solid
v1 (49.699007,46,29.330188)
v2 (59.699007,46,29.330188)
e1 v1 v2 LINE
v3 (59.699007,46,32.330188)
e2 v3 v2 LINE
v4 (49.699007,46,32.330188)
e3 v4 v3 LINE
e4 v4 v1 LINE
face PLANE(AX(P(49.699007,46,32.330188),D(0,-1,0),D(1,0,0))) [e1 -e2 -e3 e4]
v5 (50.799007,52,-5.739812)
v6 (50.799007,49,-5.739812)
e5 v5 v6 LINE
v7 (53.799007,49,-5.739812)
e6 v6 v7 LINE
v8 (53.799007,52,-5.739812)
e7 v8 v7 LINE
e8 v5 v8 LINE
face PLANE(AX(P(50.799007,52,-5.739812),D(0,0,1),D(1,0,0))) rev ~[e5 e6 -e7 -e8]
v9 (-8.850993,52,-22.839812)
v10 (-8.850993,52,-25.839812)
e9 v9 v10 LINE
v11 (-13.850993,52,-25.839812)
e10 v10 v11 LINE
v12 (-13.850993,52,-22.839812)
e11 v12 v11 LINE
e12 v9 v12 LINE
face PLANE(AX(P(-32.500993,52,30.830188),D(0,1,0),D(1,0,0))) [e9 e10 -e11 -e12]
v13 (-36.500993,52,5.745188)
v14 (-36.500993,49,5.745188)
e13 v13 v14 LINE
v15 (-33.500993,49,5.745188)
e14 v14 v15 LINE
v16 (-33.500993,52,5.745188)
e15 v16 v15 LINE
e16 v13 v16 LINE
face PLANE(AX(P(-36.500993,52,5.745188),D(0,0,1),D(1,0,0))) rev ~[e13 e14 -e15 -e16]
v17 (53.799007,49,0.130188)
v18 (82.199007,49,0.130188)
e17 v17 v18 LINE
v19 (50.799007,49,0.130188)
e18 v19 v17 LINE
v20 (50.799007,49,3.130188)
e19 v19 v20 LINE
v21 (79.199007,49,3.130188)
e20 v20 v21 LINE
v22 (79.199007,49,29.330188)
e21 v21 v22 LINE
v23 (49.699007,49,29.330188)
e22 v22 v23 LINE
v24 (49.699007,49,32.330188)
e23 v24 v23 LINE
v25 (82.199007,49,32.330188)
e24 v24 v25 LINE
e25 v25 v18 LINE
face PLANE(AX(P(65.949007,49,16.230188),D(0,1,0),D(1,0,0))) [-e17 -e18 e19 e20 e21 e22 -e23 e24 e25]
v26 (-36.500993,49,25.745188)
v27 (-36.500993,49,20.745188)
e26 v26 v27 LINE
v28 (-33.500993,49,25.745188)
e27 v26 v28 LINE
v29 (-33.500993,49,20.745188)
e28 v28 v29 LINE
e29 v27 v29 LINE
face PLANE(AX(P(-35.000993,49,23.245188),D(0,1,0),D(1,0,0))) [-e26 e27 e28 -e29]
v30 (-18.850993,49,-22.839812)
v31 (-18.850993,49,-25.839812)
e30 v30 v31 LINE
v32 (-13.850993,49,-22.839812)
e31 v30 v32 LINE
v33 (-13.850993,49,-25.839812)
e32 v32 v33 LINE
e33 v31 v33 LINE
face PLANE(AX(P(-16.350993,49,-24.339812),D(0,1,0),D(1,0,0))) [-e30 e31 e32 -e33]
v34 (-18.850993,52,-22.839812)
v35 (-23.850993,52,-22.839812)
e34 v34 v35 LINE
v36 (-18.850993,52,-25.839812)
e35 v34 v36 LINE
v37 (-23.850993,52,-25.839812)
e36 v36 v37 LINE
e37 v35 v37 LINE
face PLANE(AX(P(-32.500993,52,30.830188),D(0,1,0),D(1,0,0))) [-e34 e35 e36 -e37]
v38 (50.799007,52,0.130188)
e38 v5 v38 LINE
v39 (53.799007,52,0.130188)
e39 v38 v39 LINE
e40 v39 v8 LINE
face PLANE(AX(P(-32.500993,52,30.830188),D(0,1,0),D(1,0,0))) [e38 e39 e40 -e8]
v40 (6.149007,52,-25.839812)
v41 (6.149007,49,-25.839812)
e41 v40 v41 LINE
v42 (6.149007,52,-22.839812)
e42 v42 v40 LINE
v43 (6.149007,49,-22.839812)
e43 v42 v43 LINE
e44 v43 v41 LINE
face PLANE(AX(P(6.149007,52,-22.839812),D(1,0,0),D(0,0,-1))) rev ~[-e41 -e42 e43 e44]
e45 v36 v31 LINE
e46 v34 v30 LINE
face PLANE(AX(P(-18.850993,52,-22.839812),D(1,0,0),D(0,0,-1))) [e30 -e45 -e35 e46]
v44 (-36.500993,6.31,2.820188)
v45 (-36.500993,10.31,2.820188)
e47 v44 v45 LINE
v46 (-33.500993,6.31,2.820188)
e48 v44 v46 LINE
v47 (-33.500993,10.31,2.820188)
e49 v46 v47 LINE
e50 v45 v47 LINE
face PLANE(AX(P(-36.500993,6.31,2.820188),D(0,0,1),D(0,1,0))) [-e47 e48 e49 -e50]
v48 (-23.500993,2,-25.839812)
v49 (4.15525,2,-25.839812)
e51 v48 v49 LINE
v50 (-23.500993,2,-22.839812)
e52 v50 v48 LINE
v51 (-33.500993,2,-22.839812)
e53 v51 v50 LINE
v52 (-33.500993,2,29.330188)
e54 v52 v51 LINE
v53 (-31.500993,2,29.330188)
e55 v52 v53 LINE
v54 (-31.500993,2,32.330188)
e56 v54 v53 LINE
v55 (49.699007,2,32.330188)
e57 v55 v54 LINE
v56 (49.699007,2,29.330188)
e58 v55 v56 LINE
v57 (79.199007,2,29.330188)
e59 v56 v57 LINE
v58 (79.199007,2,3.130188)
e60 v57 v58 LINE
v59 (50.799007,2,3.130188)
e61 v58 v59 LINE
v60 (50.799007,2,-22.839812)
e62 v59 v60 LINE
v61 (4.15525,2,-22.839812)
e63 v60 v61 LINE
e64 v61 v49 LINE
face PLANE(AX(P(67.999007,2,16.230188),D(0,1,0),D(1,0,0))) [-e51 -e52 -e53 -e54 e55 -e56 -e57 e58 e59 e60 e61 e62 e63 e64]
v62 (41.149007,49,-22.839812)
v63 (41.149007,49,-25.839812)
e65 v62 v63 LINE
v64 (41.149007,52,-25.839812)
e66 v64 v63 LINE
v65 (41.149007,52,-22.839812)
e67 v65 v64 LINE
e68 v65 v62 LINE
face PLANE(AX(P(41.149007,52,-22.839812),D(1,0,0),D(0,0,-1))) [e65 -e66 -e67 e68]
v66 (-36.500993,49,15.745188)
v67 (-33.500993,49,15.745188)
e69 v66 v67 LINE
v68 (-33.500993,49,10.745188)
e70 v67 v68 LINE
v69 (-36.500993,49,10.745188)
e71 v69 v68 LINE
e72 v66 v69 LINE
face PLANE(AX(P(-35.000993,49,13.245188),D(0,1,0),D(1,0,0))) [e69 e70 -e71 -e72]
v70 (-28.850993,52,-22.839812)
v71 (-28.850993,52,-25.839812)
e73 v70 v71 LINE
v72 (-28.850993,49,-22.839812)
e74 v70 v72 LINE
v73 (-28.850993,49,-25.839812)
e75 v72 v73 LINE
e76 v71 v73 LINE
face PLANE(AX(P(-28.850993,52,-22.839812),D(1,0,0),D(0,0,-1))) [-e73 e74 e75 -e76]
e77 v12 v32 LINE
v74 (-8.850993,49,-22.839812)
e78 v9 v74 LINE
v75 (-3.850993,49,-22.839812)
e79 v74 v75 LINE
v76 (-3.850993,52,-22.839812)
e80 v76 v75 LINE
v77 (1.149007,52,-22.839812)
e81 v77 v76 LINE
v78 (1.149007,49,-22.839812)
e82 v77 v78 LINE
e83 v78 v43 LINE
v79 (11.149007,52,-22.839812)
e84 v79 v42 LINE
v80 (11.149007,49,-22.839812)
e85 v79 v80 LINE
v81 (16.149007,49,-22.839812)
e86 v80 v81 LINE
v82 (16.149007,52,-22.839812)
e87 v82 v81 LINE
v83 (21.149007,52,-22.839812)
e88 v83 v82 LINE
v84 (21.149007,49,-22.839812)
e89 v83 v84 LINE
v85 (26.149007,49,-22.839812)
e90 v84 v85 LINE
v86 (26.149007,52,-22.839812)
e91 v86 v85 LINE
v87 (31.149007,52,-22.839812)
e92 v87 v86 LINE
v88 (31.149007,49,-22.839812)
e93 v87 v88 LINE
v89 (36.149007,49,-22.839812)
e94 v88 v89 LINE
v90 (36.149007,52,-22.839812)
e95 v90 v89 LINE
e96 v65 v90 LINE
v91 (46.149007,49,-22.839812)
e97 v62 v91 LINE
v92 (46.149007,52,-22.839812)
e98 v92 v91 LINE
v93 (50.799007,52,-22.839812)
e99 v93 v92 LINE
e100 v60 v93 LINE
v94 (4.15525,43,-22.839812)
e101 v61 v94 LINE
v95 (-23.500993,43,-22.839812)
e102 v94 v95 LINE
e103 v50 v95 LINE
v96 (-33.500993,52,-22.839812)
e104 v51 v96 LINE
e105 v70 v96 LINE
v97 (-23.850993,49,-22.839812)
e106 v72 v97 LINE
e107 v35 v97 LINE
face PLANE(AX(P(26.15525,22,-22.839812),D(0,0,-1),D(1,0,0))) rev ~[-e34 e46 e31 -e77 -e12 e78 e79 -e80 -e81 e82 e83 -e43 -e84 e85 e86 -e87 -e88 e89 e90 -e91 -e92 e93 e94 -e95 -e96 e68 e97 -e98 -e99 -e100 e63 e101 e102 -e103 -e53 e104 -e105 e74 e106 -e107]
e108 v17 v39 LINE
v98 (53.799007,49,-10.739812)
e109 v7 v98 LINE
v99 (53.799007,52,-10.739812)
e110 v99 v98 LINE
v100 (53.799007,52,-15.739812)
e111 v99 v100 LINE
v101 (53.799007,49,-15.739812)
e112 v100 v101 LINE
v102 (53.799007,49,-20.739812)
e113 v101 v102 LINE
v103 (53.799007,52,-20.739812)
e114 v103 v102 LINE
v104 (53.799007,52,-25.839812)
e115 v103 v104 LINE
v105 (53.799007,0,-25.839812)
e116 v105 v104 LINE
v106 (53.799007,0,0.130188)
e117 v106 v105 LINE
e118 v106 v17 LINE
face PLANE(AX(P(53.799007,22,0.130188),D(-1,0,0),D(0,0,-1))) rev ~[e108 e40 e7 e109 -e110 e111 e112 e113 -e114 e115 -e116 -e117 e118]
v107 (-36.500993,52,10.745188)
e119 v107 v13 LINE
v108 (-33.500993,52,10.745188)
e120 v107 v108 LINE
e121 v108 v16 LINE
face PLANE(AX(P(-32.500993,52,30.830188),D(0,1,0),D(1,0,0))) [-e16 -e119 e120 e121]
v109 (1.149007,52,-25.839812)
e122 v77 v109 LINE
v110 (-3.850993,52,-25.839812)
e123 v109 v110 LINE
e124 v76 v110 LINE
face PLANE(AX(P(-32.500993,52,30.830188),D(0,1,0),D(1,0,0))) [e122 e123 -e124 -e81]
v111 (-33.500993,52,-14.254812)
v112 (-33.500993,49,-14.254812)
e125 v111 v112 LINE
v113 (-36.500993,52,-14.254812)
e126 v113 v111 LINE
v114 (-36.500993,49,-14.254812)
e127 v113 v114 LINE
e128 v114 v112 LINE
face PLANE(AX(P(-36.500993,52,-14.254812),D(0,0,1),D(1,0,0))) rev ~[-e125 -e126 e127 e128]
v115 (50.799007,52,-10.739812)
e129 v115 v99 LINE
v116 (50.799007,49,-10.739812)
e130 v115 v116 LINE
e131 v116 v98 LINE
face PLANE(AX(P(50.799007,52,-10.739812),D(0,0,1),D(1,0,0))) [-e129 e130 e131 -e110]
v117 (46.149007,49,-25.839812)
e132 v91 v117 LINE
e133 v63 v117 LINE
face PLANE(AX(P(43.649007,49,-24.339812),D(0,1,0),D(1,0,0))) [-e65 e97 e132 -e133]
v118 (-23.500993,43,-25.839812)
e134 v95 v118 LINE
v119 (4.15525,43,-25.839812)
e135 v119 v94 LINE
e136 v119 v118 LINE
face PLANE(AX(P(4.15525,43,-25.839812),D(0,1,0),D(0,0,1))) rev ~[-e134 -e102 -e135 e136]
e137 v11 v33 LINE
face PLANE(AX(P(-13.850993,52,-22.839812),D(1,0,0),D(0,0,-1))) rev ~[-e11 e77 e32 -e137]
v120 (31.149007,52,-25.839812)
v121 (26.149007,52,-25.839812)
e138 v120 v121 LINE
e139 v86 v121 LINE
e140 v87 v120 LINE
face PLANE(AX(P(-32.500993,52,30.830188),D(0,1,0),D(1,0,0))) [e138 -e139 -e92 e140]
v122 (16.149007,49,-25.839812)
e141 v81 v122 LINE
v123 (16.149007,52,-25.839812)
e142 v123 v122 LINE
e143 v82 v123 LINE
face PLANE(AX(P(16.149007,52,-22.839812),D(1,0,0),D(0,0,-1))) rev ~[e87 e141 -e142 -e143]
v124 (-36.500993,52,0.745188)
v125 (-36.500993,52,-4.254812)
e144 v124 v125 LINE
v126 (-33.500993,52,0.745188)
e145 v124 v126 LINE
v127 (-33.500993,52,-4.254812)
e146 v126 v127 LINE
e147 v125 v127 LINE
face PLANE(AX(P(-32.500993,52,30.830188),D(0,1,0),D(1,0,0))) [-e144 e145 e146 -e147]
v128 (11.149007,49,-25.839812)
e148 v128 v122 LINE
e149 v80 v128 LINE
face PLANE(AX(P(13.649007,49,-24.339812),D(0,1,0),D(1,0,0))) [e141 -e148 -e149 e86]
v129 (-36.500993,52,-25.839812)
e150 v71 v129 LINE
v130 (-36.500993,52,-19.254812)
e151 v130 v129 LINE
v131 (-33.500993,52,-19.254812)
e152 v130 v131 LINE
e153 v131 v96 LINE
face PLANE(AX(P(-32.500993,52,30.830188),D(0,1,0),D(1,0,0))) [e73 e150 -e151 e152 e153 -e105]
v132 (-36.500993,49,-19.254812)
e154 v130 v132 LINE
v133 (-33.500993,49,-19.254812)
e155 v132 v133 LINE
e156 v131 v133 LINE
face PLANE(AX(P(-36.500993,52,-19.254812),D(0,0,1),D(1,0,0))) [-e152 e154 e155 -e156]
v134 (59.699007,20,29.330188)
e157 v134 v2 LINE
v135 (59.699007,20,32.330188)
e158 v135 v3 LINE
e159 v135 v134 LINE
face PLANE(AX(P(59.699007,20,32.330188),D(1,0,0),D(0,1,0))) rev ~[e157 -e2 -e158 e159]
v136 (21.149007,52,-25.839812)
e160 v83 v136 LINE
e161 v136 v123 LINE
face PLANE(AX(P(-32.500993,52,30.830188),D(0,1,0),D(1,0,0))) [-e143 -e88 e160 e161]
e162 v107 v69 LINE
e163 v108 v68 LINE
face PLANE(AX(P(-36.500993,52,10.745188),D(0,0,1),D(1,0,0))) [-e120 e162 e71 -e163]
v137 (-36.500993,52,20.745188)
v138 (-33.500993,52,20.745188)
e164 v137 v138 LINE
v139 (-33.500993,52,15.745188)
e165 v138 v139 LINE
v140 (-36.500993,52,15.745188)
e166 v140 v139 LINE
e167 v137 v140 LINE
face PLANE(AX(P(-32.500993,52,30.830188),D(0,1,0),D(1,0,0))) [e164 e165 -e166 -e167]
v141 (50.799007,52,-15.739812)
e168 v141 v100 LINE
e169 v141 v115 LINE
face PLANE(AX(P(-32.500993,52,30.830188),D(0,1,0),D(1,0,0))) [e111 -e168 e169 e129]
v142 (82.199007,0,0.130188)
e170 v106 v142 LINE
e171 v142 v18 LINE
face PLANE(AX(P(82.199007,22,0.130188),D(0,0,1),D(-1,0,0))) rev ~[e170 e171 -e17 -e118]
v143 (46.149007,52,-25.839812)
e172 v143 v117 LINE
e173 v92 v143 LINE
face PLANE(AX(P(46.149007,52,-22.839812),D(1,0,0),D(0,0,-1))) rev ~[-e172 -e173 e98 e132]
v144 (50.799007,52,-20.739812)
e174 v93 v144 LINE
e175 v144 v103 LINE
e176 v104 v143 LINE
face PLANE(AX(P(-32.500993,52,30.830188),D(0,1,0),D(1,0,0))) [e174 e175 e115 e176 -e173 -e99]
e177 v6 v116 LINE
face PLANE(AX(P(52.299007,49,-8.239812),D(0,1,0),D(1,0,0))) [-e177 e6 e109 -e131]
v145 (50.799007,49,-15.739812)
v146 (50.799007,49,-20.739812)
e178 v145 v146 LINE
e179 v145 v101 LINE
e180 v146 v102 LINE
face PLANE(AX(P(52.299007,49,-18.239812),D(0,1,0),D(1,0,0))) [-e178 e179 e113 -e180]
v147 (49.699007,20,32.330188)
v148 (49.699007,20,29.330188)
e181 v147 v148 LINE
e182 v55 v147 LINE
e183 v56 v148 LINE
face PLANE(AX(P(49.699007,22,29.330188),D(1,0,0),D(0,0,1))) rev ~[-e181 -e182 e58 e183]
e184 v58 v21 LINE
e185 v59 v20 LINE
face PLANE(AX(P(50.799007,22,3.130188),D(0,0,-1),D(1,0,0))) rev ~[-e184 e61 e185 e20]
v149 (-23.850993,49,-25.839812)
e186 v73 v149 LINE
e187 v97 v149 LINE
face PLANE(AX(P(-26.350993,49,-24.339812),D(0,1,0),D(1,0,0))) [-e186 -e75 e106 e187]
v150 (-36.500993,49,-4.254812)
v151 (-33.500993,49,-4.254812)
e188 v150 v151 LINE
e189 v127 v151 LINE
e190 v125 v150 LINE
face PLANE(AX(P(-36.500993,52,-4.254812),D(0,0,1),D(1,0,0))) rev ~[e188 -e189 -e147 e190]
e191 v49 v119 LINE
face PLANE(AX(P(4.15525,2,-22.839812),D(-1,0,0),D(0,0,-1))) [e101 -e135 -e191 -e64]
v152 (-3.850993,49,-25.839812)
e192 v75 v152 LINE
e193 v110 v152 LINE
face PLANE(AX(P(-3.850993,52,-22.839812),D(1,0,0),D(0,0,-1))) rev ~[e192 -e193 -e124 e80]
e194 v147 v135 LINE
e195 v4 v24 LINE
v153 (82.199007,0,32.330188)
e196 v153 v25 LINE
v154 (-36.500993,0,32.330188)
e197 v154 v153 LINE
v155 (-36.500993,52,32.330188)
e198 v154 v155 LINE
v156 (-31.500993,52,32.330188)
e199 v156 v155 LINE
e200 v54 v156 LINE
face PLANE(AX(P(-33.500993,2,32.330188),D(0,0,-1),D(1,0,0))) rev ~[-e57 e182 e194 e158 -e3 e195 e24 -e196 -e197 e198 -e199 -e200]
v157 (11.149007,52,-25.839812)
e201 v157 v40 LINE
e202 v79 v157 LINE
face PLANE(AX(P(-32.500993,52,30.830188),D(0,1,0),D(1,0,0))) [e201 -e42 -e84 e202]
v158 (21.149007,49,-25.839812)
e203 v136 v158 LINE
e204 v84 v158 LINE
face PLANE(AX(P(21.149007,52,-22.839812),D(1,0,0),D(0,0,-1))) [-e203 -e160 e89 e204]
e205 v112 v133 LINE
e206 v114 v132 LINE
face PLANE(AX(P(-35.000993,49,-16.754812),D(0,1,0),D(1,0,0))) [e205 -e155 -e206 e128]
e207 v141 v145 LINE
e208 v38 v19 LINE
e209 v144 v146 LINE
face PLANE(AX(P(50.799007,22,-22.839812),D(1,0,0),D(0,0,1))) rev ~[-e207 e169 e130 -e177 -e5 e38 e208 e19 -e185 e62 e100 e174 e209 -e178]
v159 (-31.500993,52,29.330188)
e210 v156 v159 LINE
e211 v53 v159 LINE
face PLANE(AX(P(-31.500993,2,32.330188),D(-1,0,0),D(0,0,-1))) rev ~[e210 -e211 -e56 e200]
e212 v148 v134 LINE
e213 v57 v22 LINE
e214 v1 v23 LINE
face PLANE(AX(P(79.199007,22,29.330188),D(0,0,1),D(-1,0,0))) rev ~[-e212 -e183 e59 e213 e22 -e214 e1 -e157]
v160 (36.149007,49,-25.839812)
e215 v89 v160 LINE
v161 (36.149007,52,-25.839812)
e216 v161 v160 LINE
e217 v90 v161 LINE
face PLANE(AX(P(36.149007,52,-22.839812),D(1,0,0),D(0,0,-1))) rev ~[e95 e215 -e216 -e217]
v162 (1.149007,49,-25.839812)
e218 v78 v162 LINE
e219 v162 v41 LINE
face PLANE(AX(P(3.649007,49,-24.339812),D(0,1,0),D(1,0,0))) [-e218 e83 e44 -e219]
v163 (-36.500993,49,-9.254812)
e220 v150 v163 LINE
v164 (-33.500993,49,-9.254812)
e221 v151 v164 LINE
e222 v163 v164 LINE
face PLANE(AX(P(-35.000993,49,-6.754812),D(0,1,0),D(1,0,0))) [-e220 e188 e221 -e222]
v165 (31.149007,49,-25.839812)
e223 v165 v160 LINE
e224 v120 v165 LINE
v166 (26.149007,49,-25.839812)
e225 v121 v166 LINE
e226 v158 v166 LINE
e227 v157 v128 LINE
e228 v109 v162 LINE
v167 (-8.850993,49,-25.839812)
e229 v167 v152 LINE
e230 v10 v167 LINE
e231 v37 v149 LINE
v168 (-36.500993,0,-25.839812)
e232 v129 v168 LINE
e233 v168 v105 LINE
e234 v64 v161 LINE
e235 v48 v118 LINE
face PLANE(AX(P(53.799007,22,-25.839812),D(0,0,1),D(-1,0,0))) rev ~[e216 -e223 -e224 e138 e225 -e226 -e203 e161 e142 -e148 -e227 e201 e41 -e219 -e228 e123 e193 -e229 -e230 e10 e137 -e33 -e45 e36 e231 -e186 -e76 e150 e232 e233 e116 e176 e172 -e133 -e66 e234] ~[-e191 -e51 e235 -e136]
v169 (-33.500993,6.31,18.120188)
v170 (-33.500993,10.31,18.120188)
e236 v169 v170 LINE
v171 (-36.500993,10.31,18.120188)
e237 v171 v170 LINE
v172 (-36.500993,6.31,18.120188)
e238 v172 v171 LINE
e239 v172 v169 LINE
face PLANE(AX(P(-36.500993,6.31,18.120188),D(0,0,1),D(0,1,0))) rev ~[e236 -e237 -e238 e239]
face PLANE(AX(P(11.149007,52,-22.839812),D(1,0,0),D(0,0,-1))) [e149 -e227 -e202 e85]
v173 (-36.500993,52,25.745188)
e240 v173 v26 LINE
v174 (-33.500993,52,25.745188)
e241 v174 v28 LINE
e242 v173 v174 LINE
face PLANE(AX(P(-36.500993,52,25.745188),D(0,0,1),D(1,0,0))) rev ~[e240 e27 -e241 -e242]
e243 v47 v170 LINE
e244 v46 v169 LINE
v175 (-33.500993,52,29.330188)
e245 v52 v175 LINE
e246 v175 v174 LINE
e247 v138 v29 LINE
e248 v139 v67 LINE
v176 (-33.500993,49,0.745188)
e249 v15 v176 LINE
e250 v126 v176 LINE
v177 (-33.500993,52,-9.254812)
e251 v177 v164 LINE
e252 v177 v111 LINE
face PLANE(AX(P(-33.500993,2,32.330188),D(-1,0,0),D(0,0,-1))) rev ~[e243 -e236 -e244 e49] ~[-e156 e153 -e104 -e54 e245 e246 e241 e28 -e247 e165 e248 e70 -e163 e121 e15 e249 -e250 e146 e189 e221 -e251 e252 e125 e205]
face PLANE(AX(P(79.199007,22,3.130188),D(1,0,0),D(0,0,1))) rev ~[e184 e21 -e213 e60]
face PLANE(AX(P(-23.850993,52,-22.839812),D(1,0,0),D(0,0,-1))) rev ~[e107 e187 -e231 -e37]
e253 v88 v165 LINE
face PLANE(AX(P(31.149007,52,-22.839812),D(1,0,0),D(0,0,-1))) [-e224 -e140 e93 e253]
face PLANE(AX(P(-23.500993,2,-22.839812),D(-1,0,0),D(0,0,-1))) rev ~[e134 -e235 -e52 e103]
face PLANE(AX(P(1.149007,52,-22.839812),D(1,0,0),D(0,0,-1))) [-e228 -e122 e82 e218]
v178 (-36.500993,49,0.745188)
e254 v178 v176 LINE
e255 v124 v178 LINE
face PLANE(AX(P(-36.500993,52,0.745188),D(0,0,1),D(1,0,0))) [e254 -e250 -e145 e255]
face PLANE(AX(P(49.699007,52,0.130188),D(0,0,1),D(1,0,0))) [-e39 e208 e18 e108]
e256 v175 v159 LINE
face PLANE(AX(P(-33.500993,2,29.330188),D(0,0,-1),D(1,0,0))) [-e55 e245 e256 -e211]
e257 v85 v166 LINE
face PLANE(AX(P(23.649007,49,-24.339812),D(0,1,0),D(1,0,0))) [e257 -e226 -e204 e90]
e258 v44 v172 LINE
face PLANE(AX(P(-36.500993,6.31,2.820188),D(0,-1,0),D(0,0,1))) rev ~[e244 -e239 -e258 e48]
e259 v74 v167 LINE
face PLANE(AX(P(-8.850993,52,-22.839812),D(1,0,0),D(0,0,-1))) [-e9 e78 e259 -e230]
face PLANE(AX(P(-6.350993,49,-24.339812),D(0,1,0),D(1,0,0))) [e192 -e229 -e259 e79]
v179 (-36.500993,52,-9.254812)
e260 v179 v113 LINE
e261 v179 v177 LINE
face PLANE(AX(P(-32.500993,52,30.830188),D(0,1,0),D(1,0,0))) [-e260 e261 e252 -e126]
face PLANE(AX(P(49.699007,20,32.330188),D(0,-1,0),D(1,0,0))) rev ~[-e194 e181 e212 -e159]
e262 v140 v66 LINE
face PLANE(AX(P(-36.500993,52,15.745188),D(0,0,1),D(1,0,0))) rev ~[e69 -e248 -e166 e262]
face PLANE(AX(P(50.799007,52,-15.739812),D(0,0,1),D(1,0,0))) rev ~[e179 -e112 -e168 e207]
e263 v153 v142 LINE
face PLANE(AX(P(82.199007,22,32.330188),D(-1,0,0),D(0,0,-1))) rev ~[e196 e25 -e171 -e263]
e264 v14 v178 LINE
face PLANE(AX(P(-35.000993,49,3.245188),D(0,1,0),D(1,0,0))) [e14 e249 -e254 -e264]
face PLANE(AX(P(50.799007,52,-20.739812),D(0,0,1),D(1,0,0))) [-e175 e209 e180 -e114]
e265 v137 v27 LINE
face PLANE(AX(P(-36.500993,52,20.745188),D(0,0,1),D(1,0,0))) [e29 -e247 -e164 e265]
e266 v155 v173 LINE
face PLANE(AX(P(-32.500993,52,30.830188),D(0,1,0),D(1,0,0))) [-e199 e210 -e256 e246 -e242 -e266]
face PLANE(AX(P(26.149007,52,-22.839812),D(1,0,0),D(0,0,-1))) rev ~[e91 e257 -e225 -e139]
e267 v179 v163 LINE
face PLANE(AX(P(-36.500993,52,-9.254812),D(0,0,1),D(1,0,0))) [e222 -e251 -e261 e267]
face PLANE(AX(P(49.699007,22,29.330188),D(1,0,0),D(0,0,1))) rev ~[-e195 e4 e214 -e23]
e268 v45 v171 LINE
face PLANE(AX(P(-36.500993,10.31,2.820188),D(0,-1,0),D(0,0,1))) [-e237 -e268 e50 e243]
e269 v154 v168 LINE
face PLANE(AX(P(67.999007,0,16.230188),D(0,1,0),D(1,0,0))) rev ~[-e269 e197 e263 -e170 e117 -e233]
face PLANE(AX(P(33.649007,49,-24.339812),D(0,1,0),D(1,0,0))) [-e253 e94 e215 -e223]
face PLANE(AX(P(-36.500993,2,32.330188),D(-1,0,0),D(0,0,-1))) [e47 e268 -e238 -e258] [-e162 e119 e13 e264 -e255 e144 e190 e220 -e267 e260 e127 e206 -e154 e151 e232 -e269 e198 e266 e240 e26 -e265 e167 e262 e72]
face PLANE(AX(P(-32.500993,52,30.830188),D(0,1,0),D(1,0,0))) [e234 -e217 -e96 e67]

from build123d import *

# Parameters (mm, degrees)
SKETCH1_W           = 90.3
SKETCH1_H           = 58.17
BOSS_EXTRUDE1_DEPTH = 2
SKETCH4_W           = 28.4
SKETCH4_H           = 32.2
BOSS_EXTRUDE2_DEPTH = 2
BOSS_EXTRUDE3_DEPTH = 20
SKETCH6_W           = 3
SKETCH6_H           = 58.17
BOSS_EXTRUDE4_DEPTH = 50
SKETCH7_W           = 15.3
SKETCH7_H           = 4
CUT_EXTRUDE1_DEPTH  = 4
SKETCH8_W           = 10
SKETCH8_H           = 3
SKETCH8_W_2         = 22
BOSS_EXTRUDE5_DEPTH = 50
SKETCH9_W           = 3
SKETCH9_H           = 9
BOSS_EXTRUDE7_DEPTH = 30
BOSS_EXTRUDE8_DEPTH = 30
SKETCH11_W          = 2
SKETCH11_H          = 3
BOSS_EXTRUDE9_DEPTH = 50
SKETCH12_W          = 10
SKETCH12_H          = 26
CUT_EXTRUDE2_DEPTH  = 5
SKETCH13_W          = 3
SKETCH13_H          = 5
SKETCH13_W_2        = 5
SKETCH13_H_2        = 3
SKETCH13_W_3        = 32.5
SKETCH13_H_3        = 32.2
CUT_EXTRUDE3_DEPTH  = 3


with BuildPart() as part:
    # Sketch1 → Boss-Extrude1 (new body)
    with BuildSketch(Plane(origin=(0, 0, 0), x_dir=(1, 0, 0), z_dir=(0, 1, 0))):
        with Locations((8.649006711, -3.245187919)):
            Rectangle(SKETCH1_W, SKETCH1_H)
    extrude(amount=BOSS_EXTRUDE1_DEPTH)

    # Sketch4 → Boss-Extrude2 (add)
    with BuildSketch(Plane(origin=(0, 2, 0), x_dir=(1, 0, 0), z_dir=(0, 1, 0))):
        with Locations((67.999006711, -16.230187919)):
            Rectangle(SKETCH4_W, SKETCH4_H)
    extrude(amount=-BOSS_EXTRUDE2_DEPTH)

    # Sketch5 → Boss-Extrude3 (add)
    with BuildSketch(Plane(origin=(0, 2, 0), x_dir=(1, 0, 0), z_dir=(0, 1, 0))):
        Polygon((82.199006711, -0.130187919), (82.199006711, -32.330187919), (49.699006711, -32.330187919), (49.699006711, -29.330187919), (79.199006711, -29.330187919), (79.199006711, -3.130187919), (50.799006711, -3.130187919), (50.799006711, 22.839812081), (26.155250354, 22.839812081), (26.155250354, 25.839812081), (53.799006711, 25.839812081), (53.799006711, -0.130187919), align=None)
    extrude(amount=BOSS_EXTRUDE3_DEPTH)

    # Sketch6 → Boss-Extrude4 (add)
    with BuildSketch(Plane(origin=(0, 2, 0), x_dir=(1, 0, 0), z_dir=(0, 1, 0))):
        with Locations((-35.000993289, -3.245187919)):
            Rectangle(SKETCH6_W, SKETCH6_H)
    extrude(amount=BOSS_EXTRUDE4_DEPTH)

    # Sketch7 → Cut-Extrude1 (cut)
    with BuildSketch(Plane.ZY.offset(36.500993289)):
        with Locations((10.470187919, 8.31)):
            Rectangle(SKETCH7_W, SKETCH7_H)
    extrude(amount=-CUT_EXTRUDE1_DEPTH, mode=Mode.SUBTRACT)

    # Sketch8 → Boss-Extrude5 (add)
    with BuildSketch(Plane(origin=(0, 2, 0), x_dir=(1, 0, 0), z_dir=(0, 1, 0))):
        with Locations((-28.500993289, 24.339812081)):
            Rectangle(SKETCH8_W, SKETCH8_H)
        with Locations((15.155250354, 24.339812081)):
            Rectangle(SKETCH8_W_2, SKETCH8_H)
    extrude(amount=BOSS_EXTRUDE5_DEPTH)

    # Sketch9 → Boss-Extrude7 (add)
    with BuildSketch(Plane.ZY.offset(-4.155250354)):
        with Locations((-24.339812081, 47.5)):
            Rectangle(SKETCH9_W, SKETCH9_H)
    extrude(amount=BOSS_EXTRUDE7_DEPTH)

    # Sketch10 → Boss-Extrude8 (add)
    with BuildSketch(Plane(origin=(0, 22, 0), x_dir=(1, 0, 0), z_dir=(0, 1, 0))):
        Polygon((26.155250354, 25.839812081), (26.155250354, 22.839812081), (50.799006711, 22.839812081), (50.799006711, -3.130187919), (79.199006711, -3.130187919), (79.199006711, -29.330187919), (49.699006711, -29.330187919), (49.699006711, -32.330187919), (82.199006711, -32.330187919), (82.199006711, -0.130187919), (53.799006711, -0.130187919), (53.799006711, 25.839812081), align=None)
    extrude(amount=BOSS_EXTRUDE8_DEPTH)

    # Sketch11 → Boss-Extrude9 (add)
    with BuildSketch(Plane(origin=(0, 2, 0), x_dir=(1, 0, 0), z_dir=(0, 1, 0))):
        with Locations((-32.500993289, -30.830187919)):
            Rectangle(SKETCH11_W, SKETCH11_H)
    extrude(amount=BOSS_EXTRUDE9_DEPTH)

    # Sketch12 → Cut-Extrude2 (cut)
    with BuildSketch(Plane.XY.offset(32.330187919)):
        with Locations((54.699006711, 33)):
            Rectangle(SKETCH12_W, SKETCH12_H)
    extrude(amount=-CUT_EXTRUDE2_DEPTH, mode=Mode.SUBTRACT)

    # Sketch13 → Cut-Extrude3 (cut)
    with BuildSketch(Plane(origin=(0, 52, 0), x_dir=(1, 0, 0), z_dir=(0, 1, 0))):
        with Locations((-35.000993289, -23.245187919)):
            Rectangle(SKETCH13_W, SKETCH13_H)
        with Locations((-35.000993289, -13.245187919)):
            Rectangle(SKETCH13_W, SKETCH13_H)
        with Locations((-35.000993289, -3.245187919)):
            Rectangle(SKETCH13_W, SKETCH13_H)
        with Locations((-35.000993289, 6.754812081)):
            Rectangle(SKETCH13_W, SKETCH13_H)
        with Locations((-35.000993289, 16.754812081)):
            Rectangle(SKETCH13_W, SKETCH13_H)
        with Locations((-26.350993289, 24.339812081)):
            Rectangle(SKETCH13_W_2, SKETCH13_H_2)
        with Locations((-16.350993289, 24.339812081)):
            Rectangle(SKETCH13_W_2, SKETCH13_H_2)
        with Locations((-6.350993289, 24.339812081)):
            Rectangle(SKETCH13_W_2, SKETCH13_H_2)
        with Locations((3.649006711, 24.339812081)):
            Rectangle(SKETCH13_W_2, SKETCH13_H_2)
        with Locations((13.649006711, 24.339812081)):
            Rectangle(SKETCH13_W_2, SKETCH13_H_2)
        with Locations((23.649006711, 24.339812081)):
            Rectangle(SKETCH13_W_2, SKETCH13_H_2)
        with Locations((33.649006711, 24.339812081)):
            Rectangle(SKETCH13_W_2, SKETCH13_H_2)
        with Locations((43.649006711, 24.339812081)):
            Rectangle(SKETCH13_W_2, SKETCH13_H_2)
        with Locations((65.949006711, -16.230187919)):
            Rectangle(SKETCH13_W_3, SKETCH13_H_3)
        with Locations((52.299006711, 18.239812081)):
            Rectangle(SKETCH13_W, SKETCH13_H)
        with Locations((52.299006711, 8.239812081)):
            Rectangle(SKETCH13_W, SKETCH13_H)
    extrude(amount=-CUT_EXTRUDE3_DEPTH, mode=Mode.SUBTRACT)


solid = part.part
